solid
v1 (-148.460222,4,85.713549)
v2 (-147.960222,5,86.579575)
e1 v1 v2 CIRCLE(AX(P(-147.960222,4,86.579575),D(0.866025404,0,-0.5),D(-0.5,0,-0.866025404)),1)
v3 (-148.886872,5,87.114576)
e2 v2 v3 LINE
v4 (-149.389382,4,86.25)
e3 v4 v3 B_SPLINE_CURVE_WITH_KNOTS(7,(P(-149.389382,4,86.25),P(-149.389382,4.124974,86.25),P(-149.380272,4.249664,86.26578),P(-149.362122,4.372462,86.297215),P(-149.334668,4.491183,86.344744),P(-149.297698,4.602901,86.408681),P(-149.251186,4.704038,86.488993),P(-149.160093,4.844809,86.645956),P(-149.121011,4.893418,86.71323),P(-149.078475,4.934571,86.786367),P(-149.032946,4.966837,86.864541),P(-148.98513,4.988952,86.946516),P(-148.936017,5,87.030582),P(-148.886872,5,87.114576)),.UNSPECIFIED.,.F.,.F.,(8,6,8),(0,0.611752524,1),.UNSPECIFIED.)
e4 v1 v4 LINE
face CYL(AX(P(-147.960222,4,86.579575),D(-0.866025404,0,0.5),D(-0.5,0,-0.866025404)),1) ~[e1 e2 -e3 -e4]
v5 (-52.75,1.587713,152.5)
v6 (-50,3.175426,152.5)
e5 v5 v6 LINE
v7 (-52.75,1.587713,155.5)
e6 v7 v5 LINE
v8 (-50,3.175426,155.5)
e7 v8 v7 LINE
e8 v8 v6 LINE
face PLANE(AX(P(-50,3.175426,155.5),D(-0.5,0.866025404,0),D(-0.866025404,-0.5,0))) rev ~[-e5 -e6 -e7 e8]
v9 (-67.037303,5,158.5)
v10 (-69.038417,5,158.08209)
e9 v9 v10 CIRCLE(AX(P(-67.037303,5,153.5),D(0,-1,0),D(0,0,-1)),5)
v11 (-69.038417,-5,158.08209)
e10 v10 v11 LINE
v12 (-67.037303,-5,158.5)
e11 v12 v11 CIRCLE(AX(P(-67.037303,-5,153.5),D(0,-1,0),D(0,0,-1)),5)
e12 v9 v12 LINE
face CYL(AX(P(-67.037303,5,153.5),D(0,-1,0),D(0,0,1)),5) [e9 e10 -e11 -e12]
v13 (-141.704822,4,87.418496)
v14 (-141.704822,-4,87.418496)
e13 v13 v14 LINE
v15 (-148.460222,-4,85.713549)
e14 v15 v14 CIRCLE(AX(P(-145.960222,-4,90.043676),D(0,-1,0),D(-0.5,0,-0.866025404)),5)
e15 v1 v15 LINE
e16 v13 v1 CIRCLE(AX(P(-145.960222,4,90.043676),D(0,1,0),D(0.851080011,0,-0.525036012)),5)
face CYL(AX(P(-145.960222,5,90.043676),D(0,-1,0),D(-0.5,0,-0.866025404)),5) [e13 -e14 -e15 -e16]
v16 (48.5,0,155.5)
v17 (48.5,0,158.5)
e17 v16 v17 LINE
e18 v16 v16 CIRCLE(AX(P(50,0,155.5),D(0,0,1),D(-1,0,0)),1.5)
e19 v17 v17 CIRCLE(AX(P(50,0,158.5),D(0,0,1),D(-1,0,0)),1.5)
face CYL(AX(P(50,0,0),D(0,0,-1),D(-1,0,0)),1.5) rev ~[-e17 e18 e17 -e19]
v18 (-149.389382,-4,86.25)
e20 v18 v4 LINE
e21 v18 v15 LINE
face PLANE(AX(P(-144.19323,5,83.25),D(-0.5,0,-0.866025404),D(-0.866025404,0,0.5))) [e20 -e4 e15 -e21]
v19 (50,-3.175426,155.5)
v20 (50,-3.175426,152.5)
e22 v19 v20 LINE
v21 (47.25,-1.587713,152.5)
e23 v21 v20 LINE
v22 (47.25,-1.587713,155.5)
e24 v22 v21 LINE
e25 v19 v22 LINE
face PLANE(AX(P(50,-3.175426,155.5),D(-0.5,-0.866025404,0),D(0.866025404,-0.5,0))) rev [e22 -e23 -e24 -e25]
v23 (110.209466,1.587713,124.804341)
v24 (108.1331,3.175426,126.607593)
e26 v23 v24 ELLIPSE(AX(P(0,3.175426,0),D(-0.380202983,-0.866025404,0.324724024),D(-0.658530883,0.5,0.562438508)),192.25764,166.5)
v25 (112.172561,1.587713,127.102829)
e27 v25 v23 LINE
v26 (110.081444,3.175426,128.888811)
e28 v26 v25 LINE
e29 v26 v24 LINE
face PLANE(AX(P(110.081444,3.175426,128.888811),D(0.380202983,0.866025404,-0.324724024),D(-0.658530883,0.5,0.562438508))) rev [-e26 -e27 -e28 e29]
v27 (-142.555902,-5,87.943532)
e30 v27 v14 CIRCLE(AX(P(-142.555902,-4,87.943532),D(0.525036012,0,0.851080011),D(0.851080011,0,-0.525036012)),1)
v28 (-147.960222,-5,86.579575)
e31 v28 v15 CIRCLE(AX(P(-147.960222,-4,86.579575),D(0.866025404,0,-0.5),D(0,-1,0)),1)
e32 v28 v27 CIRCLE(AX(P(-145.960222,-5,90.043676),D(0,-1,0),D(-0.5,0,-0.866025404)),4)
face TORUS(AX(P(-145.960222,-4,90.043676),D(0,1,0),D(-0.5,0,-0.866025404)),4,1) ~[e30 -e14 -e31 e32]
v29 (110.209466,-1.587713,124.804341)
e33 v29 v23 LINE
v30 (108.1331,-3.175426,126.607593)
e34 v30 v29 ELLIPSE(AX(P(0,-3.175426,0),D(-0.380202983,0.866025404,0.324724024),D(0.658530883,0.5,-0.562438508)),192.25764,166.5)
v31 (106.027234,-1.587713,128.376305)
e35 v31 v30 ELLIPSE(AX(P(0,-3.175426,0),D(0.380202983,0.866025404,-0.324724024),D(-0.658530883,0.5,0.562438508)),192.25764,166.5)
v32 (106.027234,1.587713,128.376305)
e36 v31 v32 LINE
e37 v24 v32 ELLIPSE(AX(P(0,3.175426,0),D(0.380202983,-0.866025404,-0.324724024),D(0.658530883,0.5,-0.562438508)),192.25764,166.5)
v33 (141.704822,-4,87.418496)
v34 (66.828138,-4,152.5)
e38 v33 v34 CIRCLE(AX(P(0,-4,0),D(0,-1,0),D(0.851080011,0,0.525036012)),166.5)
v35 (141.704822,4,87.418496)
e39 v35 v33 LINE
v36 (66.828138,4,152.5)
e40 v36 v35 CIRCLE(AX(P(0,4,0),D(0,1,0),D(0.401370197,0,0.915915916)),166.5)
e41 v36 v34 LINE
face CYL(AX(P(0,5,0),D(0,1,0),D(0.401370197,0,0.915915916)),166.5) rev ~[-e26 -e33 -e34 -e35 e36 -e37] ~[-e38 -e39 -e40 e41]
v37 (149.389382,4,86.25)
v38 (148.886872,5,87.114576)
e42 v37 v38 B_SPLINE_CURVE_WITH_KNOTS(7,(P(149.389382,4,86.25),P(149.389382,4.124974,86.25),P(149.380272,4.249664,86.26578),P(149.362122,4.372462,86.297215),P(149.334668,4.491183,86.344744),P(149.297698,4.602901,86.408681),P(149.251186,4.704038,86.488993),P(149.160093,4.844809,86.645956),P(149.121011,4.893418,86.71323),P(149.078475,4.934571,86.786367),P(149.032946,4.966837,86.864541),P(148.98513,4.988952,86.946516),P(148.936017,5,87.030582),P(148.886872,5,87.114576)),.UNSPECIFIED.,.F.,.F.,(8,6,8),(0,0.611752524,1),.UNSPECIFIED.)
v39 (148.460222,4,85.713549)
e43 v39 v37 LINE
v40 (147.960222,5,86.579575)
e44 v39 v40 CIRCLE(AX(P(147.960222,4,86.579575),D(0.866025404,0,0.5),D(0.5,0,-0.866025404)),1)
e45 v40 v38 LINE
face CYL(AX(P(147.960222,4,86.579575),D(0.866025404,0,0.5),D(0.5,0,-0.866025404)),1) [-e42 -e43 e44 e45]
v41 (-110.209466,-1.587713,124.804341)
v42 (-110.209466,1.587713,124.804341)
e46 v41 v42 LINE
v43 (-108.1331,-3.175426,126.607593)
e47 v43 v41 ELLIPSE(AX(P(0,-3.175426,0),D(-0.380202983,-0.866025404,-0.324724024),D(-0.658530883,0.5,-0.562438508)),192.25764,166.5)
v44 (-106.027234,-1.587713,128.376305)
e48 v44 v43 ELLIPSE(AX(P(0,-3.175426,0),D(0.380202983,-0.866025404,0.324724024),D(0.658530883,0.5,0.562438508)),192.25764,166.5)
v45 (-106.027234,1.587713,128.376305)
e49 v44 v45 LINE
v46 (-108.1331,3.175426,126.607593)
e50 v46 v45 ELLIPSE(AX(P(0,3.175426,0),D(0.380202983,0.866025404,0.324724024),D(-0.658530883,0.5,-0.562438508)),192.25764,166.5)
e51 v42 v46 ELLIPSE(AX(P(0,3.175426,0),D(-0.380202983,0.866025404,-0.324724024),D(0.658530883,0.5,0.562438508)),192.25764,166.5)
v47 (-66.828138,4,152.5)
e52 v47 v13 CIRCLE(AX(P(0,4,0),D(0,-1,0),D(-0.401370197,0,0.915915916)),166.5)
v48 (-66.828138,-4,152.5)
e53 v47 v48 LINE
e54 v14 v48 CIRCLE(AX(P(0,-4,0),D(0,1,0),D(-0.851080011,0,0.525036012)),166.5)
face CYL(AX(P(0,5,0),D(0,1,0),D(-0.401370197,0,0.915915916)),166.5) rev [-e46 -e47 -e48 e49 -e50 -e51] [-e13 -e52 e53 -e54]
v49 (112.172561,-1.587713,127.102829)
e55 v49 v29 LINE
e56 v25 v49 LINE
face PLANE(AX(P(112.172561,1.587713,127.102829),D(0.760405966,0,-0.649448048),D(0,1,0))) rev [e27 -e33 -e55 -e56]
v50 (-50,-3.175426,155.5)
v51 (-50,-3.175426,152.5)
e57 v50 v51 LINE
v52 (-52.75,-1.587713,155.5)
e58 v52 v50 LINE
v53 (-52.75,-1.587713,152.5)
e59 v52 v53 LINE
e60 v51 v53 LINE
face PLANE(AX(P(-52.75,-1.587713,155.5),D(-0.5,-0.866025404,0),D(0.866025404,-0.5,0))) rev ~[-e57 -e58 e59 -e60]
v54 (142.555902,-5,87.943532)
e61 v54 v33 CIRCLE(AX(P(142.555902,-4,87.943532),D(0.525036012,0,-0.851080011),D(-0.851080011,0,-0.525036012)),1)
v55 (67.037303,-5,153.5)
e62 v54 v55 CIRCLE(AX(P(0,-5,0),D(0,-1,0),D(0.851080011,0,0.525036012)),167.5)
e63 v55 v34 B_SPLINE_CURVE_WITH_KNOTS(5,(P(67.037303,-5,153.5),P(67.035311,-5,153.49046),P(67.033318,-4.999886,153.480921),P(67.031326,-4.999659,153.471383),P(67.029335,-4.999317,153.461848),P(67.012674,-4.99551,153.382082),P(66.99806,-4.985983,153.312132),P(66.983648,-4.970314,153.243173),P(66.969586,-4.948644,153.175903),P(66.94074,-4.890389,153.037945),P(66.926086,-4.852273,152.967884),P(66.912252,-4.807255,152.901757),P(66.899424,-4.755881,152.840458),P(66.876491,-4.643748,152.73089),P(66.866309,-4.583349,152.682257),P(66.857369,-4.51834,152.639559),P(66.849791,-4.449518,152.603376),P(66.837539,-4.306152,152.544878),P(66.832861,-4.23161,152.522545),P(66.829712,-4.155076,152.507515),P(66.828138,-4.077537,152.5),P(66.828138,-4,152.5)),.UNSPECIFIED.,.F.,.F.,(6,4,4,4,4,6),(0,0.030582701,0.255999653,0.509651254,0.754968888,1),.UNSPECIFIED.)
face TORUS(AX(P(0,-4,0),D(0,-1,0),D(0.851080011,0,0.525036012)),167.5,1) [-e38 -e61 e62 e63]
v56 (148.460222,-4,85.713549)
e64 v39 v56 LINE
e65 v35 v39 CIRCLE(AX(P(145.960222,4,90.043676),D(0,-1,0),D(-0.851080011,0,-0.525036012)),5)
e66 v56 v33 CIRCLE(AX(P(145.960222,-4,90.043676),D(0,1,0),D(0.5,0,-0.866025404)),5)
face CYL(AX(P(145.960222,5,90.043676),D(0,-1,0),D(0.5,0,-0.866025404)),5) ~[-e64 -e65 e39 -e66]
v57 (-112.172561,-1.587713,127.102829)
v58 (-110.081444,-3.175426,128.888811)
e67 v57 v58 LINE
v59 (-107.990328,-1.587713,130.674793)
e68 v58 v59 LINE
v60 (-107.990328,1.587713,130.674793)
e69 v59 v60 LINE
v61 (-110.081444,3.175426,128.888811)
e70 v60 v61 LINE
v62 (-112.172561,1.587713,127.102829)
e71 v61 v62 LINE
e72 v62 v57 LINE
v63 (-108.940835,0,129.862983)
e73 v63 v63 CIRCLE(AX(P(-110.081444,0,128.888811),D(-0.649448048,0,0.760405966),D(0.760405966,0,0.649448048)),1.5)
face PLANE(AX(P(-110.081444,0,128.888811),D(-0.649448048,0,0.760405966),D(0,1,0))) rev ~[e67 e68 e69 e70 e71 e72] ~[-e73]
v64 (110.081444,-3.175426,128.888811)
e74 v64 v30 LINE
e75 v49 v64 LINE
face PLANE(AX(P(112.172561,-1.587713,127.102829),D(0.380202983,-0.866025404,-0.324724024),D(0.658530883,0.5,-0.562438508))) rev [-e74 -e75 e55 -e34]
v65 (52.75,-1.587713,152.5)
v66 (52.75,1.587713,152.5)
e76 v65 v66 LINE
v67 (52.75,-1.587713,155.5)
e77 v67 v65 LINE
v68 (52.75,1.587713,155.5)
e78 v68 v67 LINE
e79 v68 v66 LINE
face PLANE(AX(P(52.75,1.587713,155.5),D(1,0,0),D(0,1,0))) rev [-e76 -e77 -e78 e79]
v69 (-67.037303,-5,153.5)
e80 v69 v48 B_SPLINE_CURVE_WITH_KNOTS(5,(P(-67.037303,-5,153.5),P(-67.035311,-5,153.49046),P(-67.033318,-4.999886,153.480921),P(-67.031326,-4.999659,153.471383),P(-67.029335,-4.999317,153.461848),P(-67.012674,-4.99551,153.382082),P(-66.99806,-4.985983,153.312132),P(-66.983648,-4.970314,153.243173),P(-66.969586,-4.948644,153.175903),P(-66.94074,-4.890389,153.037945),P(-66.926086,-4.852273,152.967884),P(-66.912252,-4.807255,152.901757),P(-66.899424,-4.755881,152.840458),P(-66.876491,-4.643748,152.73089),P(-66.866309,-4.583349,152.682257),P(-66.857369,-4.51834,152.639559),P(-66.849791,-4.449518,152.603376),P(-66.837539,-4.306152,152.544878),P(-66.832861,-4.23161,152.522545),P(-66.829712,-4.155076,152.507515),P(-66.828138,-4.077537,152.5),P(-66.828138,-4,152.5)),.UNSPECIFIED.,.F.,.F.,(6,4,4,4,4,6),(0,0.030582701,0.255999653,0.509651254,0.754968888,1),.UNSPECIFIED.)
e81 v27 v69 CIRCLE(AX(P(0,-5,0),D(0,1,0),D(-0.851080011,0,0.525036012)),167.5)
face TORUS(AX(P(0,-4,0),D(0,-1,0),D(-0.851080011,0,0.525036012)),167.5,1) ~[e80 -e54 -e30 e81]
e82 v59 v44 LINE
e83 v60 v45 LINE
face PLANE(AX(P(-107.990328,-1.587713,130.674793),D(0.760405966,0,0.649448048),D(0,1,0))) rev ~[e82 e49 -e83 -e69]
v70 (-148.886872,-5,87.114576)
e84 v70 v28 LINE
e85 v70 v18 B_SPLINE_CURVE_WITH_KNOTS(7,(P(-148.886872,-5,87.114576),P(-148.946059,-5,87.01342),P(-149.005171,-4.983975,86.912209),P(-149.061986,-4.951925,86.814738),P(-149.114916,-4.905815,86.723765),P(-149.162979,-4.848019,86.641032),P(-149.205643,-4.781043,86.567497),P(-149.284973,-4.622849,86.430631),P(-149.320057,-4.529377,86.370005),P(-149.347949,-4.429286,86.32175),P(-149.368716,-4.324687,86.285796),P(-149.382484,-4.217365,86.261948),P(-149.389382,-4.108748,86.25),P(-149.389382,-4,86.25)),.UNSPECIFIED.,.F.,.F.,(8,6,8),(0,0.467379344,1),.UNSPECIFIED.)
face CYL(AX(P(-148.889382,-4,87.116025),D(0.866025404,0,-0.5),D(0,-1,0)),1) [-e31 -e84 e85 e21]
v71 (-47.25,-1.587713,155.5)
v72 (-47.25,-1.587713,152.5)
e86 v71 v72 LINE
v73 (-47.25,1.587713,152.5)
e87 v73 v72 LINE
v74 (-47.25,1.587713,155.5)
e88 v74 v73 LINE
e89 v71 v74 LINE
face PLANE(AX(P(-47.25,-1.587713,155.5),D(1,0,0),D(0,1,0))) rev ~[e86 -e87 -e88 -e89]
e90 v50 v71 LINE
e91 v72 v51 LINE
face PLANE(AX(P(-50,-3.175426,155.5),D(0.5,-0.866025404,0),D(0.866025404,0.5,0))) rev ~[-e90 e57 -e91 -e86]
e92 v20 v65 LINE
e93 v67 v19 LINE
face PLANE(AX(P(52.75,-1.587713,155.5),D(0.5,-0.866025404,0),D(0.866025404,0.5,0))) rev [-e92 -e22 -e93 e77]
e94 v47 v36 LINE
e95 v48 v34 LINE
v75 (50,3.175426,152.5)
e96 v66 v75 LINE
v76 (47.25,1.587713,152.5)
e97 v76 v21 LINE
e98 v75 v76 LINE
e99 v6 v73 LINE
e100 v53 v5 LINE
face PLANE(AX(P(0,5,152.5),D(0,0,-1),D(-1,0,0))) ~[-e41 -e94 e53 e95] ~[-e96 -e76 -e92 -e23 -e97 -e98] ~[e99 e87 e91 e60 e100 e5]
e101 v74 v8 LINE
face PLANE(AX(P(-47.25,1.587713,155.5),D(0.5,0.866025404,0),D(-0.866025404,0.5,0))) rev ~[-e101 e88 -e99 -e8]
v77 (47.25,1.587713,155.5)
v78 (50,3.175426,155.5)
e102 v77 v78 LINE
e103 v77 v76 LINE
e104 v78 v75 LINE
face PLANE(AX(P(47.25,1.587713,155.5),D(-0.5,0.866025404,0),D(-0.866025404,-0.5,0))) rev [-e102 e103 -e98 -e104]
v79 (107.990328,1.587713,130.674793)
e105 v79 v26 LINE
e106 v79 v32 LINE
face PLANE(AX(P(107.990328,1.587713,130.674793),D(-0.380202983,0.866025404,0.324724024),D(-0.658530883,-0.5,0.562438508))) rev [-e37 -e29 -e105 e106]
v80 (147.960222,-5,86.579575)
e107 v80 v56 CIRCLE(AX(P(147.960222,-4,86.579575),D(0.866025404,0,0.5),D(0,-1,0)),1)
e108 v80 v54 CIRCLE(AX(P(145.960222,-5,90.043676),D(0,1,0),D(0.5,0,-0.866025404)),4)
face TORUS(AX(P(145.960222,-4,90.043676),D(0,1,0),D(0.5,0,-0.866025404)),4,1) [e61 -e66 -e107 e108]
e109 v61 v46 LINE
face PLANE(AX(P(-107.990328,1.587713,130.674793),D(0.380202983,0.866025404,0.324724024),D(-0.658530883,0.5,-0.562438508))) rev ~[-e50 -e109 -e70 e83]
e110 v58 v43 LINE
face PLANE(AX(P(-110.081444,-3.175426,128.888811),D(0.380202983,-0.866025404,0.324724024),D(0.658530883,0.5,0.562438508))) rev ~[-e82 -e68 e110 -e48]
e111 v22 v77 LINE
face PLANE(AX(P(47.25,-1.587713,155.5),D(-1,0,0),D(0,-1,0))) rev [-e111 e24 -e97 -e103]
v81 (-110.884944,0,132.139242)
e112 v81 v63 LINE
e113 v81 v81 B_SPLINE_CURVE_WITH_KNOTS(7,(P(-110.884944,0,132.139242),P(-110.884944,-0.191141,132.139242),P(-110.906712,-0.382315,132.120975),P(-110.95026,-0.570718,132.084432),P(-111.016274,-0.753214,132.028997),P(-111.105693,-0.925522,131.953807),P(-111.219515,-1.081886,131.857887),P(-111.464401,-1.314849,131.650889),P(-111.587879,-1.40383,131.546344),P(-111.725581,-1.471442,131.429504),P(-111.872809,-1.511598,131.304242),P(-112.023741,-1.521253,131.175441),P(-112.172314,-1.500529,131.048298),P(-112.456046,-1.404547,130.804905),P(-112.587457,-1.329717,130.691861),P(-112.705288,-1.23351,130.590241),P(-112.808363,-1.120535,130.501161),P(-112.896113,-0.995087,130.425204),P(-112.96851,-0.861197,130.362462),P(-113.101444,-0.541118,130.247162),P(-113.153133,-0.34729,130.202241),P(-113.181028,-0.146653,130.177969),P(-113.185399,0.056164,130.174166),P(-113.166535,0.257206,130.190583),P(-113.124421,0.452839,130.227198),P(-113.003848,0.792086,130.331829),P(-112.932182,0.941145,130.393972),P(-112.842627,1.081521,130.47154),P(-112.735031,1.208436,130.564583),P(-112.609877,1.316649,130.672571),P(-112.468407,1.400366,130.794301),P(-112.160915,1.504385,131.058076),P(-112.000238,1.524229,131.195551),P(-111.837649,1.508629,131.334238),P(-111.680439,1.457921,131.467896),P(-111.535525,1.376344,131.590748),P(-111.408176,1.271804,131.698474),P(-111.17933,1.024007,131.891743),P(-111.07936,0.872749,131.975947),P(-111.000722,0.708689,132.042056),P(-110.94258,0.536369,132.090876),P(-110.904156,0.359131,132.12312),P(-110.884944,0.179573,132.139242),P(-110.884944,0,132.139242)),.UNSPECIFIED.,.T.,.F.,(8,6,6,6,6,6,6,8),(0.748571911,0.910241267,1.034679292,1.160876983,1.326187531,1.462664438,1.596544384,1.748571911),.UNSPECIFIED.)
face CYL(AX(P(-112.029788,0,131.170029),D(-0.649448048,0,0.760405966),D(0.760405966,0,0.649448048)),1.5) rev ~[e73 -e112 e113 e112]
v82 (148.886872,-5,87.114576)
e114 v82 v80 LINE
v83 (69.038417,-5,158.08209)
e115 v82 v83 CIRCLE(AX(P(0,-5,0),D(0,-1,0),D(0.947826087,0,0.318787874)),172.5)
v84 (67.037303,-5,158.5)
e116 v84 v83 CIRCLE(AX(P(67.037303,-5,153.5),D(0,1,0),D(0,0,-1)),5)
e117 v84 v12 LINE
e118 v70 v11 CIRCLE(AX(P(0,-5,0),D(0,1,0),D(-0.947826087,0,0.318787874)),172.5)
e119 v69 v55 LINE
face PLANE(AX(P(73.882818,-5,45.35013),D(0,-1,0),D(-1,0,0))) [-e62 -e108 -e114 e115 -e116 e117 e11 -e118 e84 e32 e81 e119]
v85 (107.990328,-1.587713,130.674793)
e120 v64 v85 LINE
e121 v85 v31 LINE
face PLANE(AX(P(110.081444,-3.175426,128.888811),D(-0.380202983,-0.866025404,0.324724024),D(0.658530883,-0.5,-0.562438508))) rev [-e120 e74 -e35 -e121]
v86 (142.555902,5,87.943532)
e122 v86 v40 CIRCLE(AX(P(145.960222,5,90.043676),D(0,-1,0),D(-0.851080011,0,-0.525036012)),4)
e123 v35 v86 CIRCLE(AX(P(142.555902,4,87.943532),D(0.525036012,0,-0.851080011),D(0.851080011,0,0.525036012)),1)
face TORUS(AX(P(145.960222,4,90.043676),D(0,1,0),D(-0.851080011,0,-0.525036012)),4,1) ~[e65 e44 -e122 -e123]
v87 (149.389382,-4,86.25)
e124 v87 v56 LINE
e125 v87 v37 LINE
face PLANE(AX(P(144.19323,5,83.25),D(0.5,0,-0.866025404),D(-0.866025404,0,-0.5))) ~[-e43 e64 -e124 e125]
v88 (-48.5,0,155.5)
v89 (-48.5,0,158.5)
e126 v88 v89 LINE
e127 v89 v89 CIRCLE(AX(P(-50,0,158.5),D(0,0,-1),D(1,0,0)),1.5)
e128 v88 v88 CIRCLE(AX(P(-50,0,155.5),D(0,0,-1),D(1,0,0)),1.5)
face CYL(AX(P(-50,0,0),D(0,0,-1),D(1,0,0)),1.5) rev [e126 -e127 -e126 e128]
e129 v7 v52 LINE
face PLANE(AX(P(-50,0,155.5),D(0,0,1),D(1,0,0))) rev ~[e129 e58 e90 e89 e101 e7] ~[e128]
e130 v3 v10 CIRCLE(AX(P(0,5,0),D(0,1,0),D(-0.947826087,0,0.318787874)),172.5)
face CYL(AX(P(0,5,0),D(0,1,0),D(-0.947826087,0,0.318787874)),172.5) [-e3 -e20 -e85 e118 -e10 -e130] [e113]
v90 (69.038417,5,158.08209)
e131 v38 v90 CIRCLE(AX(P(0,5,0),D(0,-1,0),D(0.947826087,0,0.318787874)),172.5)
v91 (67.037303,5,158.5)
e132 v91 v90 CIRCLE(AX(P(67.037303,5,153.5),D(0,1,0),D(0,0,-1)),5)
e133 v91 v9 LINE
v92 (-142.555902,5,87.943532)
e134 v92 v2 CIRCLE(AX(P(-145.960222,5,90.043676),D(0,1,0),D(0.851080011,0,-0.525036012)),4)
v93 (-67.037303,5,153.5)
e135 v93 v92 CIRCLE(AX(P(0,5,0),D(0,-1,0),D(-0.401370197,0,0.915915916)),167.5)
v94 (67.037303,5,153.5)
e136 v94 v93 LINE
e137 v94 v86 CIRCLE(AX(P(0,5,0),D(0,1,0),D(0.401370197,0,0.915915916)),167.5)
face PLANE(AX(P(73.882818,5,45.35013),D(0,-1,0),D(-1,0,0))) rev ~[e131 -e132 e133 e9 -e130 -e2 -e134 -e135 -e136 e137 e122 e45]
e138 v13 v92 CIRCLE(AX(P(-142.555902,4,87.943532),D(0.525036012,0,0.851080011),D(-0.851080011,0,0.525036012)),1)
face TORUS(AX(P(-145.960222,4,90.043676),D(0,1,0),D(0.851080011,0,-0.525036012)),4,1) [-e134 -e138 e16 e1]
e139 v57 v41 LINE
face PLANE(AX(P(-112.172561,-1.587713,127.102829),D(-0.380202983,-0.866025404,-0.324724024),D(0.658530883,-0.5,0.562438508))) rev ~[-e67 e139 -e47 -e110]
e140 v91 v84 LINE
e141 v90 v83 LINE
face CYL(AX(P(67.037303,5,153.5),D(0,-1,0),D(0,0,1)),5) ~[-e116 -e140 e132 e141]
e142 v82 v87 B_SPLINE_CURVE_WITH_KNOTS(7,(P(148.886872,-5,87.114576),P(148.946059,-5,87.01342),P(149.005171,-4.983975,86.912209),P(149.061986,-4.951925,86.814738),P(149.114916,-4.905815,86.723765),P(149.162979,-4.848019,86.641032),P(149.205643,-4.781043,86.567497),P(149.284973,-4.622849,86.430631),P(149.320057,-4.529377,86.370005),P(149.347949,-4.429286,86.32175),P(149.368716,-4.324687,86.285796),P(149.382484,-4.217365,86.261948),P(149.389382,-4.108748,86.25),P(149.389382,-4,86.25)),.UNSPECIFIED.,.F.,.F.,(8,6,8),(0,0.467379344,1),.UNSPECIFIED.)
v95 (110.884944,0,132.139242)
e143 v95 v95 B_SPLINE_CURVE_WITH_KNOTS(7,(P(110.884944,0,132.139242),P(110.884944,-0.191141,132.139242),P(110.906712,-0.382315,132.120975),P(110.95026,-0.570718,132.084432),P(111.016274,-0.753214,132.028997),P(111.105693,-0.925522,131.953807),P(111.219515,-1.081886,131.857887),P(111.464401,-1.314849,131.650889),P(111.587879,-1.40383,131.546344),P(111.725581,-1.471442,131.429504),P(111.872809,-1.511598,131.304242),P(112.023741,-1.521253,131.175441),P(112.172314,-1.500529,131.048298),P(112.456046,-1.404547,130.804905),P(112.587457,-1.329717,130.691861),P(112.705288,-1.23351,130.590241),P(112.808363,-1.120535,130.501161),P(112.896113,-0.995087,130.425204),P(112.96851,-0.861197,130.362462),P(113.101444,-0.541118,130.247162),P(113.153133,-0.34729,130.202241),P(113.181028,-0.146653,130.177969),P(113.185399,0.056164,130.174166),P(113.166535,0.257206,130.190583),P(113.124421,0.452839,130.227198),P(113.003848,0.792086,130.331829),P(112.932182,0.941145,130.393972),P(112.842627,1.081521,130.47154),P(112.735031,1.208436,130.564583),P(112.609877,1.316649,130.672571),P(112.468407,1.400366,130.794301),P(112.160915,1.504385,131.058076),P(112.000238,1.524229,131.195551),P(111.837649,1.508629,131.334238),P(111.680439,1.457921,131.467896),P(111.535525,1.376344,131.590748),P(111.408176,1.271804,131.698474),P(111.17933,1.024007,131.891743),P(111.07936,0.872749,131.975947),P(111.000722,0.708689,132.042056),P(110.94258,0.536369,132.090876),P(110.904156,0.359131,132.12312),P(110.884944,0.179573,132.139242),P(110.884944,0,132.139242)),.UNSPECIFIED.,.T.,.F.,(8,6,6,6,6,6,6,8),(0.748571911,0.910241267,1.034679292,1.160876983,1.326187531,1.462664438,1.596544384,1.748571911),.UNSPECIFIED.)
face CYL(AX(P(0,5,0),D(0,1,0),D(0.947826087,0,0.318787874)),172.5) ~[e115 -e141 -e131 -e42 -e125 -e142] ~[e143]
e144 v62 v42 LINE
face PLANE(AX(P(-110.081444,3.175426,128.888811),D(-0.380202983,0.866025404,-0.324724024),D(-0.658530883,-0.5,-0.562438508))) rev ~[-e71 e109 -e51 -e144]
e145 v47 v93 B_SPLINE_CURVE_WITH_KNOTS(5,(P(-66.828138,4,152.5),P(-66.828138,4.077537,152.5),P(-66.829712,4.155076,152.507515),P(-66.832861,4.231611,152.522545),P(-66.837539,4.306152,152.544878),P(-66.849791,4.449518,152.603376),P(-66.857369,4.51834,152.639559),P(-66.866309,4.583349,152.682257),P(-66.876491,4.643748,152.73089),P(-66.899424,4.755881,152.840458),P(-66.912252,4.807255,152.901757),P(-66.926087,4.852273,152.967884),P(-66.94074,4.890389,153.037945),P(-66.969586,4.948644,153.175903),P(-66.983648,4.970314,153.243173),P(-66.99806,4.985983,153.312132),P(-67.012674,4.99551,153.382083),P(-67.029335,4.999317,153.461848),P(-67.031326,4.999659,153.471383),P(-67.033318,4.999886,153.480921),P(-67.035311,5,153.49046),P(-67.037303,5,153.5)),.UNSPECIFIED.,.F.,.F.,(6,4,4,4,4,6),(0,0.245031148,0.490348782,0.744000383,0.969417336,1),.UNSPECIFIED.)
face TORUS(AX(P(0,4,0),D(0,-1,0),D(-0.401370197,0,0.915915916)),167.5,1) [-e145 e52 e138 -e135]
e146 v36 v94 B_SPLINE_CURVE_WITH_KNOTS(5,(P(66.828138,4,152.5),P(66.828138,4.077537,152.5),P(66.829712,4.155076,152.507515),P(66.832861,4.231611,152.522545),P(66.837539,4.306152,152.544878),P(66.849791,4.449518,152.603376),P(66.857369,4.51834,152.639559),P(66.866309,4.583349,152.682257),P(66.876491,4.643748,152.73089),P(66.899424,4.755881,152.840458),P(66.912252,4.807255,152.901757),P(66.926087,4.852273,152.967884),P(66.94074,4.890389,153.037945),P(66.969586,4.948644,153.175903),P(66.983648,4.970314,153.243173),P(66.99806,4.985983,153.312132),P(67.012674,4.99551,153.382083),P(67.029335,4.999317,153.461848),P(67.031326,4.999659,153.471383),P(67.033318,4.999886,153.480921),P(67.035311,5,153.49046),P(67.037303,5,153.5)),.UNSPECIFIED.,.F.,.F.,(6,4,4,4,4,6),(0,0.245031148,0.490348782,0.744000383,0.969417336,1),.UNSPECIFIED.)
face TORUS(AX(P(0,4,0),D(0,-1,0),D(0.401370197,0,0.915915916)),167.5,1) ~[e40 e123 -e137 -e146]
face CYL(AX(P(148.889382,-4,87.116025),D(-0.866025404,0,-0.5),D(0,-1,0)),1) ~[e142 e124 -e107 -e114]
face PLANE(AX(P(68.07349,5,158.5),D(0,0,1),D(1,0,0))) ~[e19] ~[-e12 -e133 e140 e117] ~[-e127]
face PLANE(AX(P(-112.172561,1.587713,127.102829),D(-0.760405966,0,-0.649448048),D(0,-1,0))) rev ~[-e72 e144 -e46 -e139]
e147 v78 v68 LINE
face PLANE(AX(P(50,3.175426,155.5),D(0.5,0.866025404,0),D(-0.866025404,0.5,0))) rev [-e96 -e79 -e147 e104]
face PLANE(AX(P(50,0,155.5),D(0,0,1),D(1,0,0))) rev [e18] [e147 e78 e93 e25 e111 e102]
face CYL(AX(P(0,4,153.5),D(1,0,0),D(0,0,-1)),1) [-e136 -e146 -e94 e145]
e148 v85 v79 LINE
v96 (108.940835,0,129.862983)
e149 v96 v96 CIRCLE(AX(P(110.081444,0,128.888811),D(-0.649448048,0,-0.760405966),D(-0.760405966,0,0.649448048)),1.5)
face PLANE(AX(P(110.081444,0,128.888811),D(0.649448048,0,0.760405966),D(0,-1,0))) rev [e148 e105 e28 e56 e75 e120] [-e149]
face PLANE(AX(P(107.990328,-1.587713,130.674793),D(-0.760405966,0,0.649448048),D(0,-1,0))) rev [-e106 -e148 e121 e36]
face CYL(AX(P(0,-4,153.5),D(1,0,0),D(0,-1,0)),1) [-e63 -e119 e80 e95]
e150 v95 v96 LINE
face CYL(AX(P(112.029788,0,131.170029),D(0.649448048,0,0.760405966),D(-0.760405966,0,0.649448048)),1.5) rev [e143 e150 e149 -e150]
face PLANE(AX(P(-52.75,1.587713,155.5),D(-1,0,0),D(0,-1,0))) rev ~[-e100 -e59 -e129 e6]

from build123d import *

# Parameters (mm, degrees)
BOSS_EXTRU_1_DEPTH       = 5
BOSS_EXTRU_1_DEPTH_BACK  = 5
ENL_V_MAT_EXTRU_10_DEPTH = 231.054341407
ENL_V_MAT_EXTRU_11_DEPTH = 228.935297837
CONG_1_R                 = 5
ESQUISSE16_R             = 1.5
ENL_V_MAT_EXTRU_13_DEPTH = 218.86334593
ESQUISSE17_R             = 1.5
ENL_V_MAT_EXTRU_14_DEPTH = 122.257222097
ENL_V_START              = -3
ENL_V_MAT_EXTRU_15_DEPTH = 119.257222101
ENL_V_MAT_EXTRU_16_DEPTH = 164.547347768
CONG_2_R                 = 1


with BuildPart() as part:
    # Esquisse1 → Boss.-Extru.1 (new, two sides: drawn at the far end of the back side and taken through both)
    with BuildSketch(Plane(origin=(0, 0, 0), x_dir=(1, 0, 0), z_dir=(0, 1, 0)).offset(-BOSS_EXTRU_1_DEPTH_BACK)):
        with BuildLine():
            Line((0, 49), (165, 49))
            Line((165, 49), (165, -55.235857919))
            ThreePointArc((165, -55.235857919), (127.908511428, -117.963607542), (68.381283989, -160))
            Line((68.381283989, -160), (0, -160))
            Line((0, -160), (0, 49))
        make_face()
    extrude(amount=BOSS_EXTRU_1_DEPTH + BOSS_EXTRU_1_DEPTH_BACK)

    # Symétrie1: part across plane


with BuildPart() as part_1:
    add(part.part)
    add(part.part.mirror(Plane(origin=(0, -5, -49), x_dir=(0, 0, 1), z_dir=(-1, 0, 0))))

    # Esquisse12 → Enlèv. mat.-Extru.10 (cut, through all)
    with BuildSketch(Plane(origin=(0, 5, 0), x_dir=(1, 0, 0), z_dir=(0, 1, 0))):
        with BuildLine():
            Line((165, 49), (-165, 49))
            Line((-165, 49), (-165, -55.235857919))
            ThreePointArc((-165, -55.235857919), (-127.908511428, -117.963607542), (-68.381283989, -160))
            Line((-68.381283989, -160), (68.381283989, -160))
            ThreePointArc((68.381283989, -160), (127.908511428, -117.963607542), (165, -55.235857919))
            Line((165, -55.235857919), (165, 49))
        make_face()
        with BuildLine():
            Line((163.5, 47.5), (-163.5, 47.5))
            Line((-163.5, 47.5), (-163.5, -54.990908339))
            ThreePointArc((-163.5, -54.990908339), (-126.827060587, -116.923678966), (-68.0734897, -158.5))
            Line((-68.0734897, -158.5), (68.0734897, -158.5))
            ThreePointArc((68.0734897, -158.5), (126.827060587, -116.923678966), (163.5, -54.990908339))
            Line((163.5, -54.990908339), (163.5, 47.5))
        make_face(mode=Mode.SUBTRACT)
    extrude(amount=-ENL_V_MAT_EXTRU_10_DEPTH, mode=Mode.SUBTRACT)

    # Esquisse13 → Enlèv. mat.-Extru.11 (cut, through all)
    with BuildSketch(Plane(origin=(0, 5, 0), x_dir=(1, 0, 0), z_dir=(0, 1, 0))):
        with BuildLine():
            Line((-163.5, 47.5), (163.5, 47.5))
            Line((163.5, 47.5), (163.5, -158.5))
            Line((163.5, -158.5), (0, -158.5))
            Line((0, -158.5), (0, -152.5))
            Line((0, -152.5), (-66.828137786, -152.5))
            ThreePointArc((-66.828137786, -152.5), (-111.046814507, -124.059884684), (-144.19322973, -83.25))
            Line((-144.19322973, -83.25), (-163.5, -94.396769013))
            Line((-163.5, -94.396769013), (-163.5, 47.5))
        make_face()
    extrude(amount=-ENL_V_MAT_EXTRU_11_DEPTH, mode=Mode.SUBTRACT)

    # Congé1
    cong_1_edges = [part_1.edges().sort_by_distance(p)[0] for p in [
        (-68.0734897, 0, 158.5),
        (-144.19322973, 0, 83.25),
    ]]
    fillet(cong_1_edges, radius=CONG_1_R)

    # Esquisse16 → Enlèv. mat.-Extru.13 (cut, through all)
    with BuildSketch(Plane.XY):
        with Locations((-50, 0)):
            Circle(ESQUISSE16_R)
    extrude(amount=ENL_V_MAT_EXTRU_13_DEPTH, mode=Mode.SUBTRACT)

    # Esquisse17 → Enlèv. mat.-Extru.14 (cut, through all)
    with BuildSketch(Plane(origin=(-112.029788337, 0, 131.170029066), x_dir=(0, 1, 0), z_dir=(-0.6494480483301822, 0, 0.7604059656000322))):
        Circle(ESQUISSE17_R)
    extrude(amount=-ENL_V_MAT_EXTRU_14_DEPTH, mode=Mode.SUBTRACT)

    # Esquisse18 → Enlèv. mat.-Extru.15 (cut, through all)
    with BuildSketch(Plane(origin=(-112.029788337, 0, 131.170029066), x_dir=(0, 1, 0), z_dir=(-0.6494480483301822, 0, 0.7604059656000322)).offset(ENL_V_START)):
        Polygon((3.175426481, 0), (1.58771324, 2.75), (-1.58771324, 2.75), (-3.175426481, 0), (-1.58771324, -2.75), (1.58771324, -2.75), align=None)
    extrude(amount=-ENL_V_MAT_EXTRU_15_DEPTH, mode=Mode.SUBTRACT)

    # Esquisse19 → Enlèv. mat.-Extru.16 (cut, through all)
    with BuildSketch(Plane.XY.offset(158.5).offset(ENL_V_START)):
        Polygon((-47.25, -1.58771324), (-47.25, 1.58771324), (-50, 3.175426481), (-52.75, 1.58771324), (-52.75, -1.58771324), (-50, -3.175426481), align=None)
    extrude(amount=-ENL_V_MAT_EXTRU_16_DEPTH, mode=Mode.SUBTRACT)

    # Congé2
    cong_2_edges = [part_1.edges().sort_by_distance(p)[0] for p in [
        (-109.226367496, -5, 125.665630319),
        (-144.736674491, -5, 85.195693901),
        (-109.226367496, 5, 125.665630319),
        (-144.736674491, 5, 85.195693901),
        (-148.924802049, -5, 85.981774552),
        (-148.924802049, 5, 85.981774552),
        (-33.414068893, -5, 152.5),
        (-33.414068893, 5, 152.5),
    ]]
    fillet(cong_2_edges, radius=CONG_2_R)

    # Symétrie2: part across plane


with BuildPart() as part_2:
    add(part_1.part)
    add(part_1.part.mirror(Plane(origin=(0, -5, 152.5), x_dir=(0, 0, 1), z_dir=(-1, 0, 0))))


solid = part_2.part
